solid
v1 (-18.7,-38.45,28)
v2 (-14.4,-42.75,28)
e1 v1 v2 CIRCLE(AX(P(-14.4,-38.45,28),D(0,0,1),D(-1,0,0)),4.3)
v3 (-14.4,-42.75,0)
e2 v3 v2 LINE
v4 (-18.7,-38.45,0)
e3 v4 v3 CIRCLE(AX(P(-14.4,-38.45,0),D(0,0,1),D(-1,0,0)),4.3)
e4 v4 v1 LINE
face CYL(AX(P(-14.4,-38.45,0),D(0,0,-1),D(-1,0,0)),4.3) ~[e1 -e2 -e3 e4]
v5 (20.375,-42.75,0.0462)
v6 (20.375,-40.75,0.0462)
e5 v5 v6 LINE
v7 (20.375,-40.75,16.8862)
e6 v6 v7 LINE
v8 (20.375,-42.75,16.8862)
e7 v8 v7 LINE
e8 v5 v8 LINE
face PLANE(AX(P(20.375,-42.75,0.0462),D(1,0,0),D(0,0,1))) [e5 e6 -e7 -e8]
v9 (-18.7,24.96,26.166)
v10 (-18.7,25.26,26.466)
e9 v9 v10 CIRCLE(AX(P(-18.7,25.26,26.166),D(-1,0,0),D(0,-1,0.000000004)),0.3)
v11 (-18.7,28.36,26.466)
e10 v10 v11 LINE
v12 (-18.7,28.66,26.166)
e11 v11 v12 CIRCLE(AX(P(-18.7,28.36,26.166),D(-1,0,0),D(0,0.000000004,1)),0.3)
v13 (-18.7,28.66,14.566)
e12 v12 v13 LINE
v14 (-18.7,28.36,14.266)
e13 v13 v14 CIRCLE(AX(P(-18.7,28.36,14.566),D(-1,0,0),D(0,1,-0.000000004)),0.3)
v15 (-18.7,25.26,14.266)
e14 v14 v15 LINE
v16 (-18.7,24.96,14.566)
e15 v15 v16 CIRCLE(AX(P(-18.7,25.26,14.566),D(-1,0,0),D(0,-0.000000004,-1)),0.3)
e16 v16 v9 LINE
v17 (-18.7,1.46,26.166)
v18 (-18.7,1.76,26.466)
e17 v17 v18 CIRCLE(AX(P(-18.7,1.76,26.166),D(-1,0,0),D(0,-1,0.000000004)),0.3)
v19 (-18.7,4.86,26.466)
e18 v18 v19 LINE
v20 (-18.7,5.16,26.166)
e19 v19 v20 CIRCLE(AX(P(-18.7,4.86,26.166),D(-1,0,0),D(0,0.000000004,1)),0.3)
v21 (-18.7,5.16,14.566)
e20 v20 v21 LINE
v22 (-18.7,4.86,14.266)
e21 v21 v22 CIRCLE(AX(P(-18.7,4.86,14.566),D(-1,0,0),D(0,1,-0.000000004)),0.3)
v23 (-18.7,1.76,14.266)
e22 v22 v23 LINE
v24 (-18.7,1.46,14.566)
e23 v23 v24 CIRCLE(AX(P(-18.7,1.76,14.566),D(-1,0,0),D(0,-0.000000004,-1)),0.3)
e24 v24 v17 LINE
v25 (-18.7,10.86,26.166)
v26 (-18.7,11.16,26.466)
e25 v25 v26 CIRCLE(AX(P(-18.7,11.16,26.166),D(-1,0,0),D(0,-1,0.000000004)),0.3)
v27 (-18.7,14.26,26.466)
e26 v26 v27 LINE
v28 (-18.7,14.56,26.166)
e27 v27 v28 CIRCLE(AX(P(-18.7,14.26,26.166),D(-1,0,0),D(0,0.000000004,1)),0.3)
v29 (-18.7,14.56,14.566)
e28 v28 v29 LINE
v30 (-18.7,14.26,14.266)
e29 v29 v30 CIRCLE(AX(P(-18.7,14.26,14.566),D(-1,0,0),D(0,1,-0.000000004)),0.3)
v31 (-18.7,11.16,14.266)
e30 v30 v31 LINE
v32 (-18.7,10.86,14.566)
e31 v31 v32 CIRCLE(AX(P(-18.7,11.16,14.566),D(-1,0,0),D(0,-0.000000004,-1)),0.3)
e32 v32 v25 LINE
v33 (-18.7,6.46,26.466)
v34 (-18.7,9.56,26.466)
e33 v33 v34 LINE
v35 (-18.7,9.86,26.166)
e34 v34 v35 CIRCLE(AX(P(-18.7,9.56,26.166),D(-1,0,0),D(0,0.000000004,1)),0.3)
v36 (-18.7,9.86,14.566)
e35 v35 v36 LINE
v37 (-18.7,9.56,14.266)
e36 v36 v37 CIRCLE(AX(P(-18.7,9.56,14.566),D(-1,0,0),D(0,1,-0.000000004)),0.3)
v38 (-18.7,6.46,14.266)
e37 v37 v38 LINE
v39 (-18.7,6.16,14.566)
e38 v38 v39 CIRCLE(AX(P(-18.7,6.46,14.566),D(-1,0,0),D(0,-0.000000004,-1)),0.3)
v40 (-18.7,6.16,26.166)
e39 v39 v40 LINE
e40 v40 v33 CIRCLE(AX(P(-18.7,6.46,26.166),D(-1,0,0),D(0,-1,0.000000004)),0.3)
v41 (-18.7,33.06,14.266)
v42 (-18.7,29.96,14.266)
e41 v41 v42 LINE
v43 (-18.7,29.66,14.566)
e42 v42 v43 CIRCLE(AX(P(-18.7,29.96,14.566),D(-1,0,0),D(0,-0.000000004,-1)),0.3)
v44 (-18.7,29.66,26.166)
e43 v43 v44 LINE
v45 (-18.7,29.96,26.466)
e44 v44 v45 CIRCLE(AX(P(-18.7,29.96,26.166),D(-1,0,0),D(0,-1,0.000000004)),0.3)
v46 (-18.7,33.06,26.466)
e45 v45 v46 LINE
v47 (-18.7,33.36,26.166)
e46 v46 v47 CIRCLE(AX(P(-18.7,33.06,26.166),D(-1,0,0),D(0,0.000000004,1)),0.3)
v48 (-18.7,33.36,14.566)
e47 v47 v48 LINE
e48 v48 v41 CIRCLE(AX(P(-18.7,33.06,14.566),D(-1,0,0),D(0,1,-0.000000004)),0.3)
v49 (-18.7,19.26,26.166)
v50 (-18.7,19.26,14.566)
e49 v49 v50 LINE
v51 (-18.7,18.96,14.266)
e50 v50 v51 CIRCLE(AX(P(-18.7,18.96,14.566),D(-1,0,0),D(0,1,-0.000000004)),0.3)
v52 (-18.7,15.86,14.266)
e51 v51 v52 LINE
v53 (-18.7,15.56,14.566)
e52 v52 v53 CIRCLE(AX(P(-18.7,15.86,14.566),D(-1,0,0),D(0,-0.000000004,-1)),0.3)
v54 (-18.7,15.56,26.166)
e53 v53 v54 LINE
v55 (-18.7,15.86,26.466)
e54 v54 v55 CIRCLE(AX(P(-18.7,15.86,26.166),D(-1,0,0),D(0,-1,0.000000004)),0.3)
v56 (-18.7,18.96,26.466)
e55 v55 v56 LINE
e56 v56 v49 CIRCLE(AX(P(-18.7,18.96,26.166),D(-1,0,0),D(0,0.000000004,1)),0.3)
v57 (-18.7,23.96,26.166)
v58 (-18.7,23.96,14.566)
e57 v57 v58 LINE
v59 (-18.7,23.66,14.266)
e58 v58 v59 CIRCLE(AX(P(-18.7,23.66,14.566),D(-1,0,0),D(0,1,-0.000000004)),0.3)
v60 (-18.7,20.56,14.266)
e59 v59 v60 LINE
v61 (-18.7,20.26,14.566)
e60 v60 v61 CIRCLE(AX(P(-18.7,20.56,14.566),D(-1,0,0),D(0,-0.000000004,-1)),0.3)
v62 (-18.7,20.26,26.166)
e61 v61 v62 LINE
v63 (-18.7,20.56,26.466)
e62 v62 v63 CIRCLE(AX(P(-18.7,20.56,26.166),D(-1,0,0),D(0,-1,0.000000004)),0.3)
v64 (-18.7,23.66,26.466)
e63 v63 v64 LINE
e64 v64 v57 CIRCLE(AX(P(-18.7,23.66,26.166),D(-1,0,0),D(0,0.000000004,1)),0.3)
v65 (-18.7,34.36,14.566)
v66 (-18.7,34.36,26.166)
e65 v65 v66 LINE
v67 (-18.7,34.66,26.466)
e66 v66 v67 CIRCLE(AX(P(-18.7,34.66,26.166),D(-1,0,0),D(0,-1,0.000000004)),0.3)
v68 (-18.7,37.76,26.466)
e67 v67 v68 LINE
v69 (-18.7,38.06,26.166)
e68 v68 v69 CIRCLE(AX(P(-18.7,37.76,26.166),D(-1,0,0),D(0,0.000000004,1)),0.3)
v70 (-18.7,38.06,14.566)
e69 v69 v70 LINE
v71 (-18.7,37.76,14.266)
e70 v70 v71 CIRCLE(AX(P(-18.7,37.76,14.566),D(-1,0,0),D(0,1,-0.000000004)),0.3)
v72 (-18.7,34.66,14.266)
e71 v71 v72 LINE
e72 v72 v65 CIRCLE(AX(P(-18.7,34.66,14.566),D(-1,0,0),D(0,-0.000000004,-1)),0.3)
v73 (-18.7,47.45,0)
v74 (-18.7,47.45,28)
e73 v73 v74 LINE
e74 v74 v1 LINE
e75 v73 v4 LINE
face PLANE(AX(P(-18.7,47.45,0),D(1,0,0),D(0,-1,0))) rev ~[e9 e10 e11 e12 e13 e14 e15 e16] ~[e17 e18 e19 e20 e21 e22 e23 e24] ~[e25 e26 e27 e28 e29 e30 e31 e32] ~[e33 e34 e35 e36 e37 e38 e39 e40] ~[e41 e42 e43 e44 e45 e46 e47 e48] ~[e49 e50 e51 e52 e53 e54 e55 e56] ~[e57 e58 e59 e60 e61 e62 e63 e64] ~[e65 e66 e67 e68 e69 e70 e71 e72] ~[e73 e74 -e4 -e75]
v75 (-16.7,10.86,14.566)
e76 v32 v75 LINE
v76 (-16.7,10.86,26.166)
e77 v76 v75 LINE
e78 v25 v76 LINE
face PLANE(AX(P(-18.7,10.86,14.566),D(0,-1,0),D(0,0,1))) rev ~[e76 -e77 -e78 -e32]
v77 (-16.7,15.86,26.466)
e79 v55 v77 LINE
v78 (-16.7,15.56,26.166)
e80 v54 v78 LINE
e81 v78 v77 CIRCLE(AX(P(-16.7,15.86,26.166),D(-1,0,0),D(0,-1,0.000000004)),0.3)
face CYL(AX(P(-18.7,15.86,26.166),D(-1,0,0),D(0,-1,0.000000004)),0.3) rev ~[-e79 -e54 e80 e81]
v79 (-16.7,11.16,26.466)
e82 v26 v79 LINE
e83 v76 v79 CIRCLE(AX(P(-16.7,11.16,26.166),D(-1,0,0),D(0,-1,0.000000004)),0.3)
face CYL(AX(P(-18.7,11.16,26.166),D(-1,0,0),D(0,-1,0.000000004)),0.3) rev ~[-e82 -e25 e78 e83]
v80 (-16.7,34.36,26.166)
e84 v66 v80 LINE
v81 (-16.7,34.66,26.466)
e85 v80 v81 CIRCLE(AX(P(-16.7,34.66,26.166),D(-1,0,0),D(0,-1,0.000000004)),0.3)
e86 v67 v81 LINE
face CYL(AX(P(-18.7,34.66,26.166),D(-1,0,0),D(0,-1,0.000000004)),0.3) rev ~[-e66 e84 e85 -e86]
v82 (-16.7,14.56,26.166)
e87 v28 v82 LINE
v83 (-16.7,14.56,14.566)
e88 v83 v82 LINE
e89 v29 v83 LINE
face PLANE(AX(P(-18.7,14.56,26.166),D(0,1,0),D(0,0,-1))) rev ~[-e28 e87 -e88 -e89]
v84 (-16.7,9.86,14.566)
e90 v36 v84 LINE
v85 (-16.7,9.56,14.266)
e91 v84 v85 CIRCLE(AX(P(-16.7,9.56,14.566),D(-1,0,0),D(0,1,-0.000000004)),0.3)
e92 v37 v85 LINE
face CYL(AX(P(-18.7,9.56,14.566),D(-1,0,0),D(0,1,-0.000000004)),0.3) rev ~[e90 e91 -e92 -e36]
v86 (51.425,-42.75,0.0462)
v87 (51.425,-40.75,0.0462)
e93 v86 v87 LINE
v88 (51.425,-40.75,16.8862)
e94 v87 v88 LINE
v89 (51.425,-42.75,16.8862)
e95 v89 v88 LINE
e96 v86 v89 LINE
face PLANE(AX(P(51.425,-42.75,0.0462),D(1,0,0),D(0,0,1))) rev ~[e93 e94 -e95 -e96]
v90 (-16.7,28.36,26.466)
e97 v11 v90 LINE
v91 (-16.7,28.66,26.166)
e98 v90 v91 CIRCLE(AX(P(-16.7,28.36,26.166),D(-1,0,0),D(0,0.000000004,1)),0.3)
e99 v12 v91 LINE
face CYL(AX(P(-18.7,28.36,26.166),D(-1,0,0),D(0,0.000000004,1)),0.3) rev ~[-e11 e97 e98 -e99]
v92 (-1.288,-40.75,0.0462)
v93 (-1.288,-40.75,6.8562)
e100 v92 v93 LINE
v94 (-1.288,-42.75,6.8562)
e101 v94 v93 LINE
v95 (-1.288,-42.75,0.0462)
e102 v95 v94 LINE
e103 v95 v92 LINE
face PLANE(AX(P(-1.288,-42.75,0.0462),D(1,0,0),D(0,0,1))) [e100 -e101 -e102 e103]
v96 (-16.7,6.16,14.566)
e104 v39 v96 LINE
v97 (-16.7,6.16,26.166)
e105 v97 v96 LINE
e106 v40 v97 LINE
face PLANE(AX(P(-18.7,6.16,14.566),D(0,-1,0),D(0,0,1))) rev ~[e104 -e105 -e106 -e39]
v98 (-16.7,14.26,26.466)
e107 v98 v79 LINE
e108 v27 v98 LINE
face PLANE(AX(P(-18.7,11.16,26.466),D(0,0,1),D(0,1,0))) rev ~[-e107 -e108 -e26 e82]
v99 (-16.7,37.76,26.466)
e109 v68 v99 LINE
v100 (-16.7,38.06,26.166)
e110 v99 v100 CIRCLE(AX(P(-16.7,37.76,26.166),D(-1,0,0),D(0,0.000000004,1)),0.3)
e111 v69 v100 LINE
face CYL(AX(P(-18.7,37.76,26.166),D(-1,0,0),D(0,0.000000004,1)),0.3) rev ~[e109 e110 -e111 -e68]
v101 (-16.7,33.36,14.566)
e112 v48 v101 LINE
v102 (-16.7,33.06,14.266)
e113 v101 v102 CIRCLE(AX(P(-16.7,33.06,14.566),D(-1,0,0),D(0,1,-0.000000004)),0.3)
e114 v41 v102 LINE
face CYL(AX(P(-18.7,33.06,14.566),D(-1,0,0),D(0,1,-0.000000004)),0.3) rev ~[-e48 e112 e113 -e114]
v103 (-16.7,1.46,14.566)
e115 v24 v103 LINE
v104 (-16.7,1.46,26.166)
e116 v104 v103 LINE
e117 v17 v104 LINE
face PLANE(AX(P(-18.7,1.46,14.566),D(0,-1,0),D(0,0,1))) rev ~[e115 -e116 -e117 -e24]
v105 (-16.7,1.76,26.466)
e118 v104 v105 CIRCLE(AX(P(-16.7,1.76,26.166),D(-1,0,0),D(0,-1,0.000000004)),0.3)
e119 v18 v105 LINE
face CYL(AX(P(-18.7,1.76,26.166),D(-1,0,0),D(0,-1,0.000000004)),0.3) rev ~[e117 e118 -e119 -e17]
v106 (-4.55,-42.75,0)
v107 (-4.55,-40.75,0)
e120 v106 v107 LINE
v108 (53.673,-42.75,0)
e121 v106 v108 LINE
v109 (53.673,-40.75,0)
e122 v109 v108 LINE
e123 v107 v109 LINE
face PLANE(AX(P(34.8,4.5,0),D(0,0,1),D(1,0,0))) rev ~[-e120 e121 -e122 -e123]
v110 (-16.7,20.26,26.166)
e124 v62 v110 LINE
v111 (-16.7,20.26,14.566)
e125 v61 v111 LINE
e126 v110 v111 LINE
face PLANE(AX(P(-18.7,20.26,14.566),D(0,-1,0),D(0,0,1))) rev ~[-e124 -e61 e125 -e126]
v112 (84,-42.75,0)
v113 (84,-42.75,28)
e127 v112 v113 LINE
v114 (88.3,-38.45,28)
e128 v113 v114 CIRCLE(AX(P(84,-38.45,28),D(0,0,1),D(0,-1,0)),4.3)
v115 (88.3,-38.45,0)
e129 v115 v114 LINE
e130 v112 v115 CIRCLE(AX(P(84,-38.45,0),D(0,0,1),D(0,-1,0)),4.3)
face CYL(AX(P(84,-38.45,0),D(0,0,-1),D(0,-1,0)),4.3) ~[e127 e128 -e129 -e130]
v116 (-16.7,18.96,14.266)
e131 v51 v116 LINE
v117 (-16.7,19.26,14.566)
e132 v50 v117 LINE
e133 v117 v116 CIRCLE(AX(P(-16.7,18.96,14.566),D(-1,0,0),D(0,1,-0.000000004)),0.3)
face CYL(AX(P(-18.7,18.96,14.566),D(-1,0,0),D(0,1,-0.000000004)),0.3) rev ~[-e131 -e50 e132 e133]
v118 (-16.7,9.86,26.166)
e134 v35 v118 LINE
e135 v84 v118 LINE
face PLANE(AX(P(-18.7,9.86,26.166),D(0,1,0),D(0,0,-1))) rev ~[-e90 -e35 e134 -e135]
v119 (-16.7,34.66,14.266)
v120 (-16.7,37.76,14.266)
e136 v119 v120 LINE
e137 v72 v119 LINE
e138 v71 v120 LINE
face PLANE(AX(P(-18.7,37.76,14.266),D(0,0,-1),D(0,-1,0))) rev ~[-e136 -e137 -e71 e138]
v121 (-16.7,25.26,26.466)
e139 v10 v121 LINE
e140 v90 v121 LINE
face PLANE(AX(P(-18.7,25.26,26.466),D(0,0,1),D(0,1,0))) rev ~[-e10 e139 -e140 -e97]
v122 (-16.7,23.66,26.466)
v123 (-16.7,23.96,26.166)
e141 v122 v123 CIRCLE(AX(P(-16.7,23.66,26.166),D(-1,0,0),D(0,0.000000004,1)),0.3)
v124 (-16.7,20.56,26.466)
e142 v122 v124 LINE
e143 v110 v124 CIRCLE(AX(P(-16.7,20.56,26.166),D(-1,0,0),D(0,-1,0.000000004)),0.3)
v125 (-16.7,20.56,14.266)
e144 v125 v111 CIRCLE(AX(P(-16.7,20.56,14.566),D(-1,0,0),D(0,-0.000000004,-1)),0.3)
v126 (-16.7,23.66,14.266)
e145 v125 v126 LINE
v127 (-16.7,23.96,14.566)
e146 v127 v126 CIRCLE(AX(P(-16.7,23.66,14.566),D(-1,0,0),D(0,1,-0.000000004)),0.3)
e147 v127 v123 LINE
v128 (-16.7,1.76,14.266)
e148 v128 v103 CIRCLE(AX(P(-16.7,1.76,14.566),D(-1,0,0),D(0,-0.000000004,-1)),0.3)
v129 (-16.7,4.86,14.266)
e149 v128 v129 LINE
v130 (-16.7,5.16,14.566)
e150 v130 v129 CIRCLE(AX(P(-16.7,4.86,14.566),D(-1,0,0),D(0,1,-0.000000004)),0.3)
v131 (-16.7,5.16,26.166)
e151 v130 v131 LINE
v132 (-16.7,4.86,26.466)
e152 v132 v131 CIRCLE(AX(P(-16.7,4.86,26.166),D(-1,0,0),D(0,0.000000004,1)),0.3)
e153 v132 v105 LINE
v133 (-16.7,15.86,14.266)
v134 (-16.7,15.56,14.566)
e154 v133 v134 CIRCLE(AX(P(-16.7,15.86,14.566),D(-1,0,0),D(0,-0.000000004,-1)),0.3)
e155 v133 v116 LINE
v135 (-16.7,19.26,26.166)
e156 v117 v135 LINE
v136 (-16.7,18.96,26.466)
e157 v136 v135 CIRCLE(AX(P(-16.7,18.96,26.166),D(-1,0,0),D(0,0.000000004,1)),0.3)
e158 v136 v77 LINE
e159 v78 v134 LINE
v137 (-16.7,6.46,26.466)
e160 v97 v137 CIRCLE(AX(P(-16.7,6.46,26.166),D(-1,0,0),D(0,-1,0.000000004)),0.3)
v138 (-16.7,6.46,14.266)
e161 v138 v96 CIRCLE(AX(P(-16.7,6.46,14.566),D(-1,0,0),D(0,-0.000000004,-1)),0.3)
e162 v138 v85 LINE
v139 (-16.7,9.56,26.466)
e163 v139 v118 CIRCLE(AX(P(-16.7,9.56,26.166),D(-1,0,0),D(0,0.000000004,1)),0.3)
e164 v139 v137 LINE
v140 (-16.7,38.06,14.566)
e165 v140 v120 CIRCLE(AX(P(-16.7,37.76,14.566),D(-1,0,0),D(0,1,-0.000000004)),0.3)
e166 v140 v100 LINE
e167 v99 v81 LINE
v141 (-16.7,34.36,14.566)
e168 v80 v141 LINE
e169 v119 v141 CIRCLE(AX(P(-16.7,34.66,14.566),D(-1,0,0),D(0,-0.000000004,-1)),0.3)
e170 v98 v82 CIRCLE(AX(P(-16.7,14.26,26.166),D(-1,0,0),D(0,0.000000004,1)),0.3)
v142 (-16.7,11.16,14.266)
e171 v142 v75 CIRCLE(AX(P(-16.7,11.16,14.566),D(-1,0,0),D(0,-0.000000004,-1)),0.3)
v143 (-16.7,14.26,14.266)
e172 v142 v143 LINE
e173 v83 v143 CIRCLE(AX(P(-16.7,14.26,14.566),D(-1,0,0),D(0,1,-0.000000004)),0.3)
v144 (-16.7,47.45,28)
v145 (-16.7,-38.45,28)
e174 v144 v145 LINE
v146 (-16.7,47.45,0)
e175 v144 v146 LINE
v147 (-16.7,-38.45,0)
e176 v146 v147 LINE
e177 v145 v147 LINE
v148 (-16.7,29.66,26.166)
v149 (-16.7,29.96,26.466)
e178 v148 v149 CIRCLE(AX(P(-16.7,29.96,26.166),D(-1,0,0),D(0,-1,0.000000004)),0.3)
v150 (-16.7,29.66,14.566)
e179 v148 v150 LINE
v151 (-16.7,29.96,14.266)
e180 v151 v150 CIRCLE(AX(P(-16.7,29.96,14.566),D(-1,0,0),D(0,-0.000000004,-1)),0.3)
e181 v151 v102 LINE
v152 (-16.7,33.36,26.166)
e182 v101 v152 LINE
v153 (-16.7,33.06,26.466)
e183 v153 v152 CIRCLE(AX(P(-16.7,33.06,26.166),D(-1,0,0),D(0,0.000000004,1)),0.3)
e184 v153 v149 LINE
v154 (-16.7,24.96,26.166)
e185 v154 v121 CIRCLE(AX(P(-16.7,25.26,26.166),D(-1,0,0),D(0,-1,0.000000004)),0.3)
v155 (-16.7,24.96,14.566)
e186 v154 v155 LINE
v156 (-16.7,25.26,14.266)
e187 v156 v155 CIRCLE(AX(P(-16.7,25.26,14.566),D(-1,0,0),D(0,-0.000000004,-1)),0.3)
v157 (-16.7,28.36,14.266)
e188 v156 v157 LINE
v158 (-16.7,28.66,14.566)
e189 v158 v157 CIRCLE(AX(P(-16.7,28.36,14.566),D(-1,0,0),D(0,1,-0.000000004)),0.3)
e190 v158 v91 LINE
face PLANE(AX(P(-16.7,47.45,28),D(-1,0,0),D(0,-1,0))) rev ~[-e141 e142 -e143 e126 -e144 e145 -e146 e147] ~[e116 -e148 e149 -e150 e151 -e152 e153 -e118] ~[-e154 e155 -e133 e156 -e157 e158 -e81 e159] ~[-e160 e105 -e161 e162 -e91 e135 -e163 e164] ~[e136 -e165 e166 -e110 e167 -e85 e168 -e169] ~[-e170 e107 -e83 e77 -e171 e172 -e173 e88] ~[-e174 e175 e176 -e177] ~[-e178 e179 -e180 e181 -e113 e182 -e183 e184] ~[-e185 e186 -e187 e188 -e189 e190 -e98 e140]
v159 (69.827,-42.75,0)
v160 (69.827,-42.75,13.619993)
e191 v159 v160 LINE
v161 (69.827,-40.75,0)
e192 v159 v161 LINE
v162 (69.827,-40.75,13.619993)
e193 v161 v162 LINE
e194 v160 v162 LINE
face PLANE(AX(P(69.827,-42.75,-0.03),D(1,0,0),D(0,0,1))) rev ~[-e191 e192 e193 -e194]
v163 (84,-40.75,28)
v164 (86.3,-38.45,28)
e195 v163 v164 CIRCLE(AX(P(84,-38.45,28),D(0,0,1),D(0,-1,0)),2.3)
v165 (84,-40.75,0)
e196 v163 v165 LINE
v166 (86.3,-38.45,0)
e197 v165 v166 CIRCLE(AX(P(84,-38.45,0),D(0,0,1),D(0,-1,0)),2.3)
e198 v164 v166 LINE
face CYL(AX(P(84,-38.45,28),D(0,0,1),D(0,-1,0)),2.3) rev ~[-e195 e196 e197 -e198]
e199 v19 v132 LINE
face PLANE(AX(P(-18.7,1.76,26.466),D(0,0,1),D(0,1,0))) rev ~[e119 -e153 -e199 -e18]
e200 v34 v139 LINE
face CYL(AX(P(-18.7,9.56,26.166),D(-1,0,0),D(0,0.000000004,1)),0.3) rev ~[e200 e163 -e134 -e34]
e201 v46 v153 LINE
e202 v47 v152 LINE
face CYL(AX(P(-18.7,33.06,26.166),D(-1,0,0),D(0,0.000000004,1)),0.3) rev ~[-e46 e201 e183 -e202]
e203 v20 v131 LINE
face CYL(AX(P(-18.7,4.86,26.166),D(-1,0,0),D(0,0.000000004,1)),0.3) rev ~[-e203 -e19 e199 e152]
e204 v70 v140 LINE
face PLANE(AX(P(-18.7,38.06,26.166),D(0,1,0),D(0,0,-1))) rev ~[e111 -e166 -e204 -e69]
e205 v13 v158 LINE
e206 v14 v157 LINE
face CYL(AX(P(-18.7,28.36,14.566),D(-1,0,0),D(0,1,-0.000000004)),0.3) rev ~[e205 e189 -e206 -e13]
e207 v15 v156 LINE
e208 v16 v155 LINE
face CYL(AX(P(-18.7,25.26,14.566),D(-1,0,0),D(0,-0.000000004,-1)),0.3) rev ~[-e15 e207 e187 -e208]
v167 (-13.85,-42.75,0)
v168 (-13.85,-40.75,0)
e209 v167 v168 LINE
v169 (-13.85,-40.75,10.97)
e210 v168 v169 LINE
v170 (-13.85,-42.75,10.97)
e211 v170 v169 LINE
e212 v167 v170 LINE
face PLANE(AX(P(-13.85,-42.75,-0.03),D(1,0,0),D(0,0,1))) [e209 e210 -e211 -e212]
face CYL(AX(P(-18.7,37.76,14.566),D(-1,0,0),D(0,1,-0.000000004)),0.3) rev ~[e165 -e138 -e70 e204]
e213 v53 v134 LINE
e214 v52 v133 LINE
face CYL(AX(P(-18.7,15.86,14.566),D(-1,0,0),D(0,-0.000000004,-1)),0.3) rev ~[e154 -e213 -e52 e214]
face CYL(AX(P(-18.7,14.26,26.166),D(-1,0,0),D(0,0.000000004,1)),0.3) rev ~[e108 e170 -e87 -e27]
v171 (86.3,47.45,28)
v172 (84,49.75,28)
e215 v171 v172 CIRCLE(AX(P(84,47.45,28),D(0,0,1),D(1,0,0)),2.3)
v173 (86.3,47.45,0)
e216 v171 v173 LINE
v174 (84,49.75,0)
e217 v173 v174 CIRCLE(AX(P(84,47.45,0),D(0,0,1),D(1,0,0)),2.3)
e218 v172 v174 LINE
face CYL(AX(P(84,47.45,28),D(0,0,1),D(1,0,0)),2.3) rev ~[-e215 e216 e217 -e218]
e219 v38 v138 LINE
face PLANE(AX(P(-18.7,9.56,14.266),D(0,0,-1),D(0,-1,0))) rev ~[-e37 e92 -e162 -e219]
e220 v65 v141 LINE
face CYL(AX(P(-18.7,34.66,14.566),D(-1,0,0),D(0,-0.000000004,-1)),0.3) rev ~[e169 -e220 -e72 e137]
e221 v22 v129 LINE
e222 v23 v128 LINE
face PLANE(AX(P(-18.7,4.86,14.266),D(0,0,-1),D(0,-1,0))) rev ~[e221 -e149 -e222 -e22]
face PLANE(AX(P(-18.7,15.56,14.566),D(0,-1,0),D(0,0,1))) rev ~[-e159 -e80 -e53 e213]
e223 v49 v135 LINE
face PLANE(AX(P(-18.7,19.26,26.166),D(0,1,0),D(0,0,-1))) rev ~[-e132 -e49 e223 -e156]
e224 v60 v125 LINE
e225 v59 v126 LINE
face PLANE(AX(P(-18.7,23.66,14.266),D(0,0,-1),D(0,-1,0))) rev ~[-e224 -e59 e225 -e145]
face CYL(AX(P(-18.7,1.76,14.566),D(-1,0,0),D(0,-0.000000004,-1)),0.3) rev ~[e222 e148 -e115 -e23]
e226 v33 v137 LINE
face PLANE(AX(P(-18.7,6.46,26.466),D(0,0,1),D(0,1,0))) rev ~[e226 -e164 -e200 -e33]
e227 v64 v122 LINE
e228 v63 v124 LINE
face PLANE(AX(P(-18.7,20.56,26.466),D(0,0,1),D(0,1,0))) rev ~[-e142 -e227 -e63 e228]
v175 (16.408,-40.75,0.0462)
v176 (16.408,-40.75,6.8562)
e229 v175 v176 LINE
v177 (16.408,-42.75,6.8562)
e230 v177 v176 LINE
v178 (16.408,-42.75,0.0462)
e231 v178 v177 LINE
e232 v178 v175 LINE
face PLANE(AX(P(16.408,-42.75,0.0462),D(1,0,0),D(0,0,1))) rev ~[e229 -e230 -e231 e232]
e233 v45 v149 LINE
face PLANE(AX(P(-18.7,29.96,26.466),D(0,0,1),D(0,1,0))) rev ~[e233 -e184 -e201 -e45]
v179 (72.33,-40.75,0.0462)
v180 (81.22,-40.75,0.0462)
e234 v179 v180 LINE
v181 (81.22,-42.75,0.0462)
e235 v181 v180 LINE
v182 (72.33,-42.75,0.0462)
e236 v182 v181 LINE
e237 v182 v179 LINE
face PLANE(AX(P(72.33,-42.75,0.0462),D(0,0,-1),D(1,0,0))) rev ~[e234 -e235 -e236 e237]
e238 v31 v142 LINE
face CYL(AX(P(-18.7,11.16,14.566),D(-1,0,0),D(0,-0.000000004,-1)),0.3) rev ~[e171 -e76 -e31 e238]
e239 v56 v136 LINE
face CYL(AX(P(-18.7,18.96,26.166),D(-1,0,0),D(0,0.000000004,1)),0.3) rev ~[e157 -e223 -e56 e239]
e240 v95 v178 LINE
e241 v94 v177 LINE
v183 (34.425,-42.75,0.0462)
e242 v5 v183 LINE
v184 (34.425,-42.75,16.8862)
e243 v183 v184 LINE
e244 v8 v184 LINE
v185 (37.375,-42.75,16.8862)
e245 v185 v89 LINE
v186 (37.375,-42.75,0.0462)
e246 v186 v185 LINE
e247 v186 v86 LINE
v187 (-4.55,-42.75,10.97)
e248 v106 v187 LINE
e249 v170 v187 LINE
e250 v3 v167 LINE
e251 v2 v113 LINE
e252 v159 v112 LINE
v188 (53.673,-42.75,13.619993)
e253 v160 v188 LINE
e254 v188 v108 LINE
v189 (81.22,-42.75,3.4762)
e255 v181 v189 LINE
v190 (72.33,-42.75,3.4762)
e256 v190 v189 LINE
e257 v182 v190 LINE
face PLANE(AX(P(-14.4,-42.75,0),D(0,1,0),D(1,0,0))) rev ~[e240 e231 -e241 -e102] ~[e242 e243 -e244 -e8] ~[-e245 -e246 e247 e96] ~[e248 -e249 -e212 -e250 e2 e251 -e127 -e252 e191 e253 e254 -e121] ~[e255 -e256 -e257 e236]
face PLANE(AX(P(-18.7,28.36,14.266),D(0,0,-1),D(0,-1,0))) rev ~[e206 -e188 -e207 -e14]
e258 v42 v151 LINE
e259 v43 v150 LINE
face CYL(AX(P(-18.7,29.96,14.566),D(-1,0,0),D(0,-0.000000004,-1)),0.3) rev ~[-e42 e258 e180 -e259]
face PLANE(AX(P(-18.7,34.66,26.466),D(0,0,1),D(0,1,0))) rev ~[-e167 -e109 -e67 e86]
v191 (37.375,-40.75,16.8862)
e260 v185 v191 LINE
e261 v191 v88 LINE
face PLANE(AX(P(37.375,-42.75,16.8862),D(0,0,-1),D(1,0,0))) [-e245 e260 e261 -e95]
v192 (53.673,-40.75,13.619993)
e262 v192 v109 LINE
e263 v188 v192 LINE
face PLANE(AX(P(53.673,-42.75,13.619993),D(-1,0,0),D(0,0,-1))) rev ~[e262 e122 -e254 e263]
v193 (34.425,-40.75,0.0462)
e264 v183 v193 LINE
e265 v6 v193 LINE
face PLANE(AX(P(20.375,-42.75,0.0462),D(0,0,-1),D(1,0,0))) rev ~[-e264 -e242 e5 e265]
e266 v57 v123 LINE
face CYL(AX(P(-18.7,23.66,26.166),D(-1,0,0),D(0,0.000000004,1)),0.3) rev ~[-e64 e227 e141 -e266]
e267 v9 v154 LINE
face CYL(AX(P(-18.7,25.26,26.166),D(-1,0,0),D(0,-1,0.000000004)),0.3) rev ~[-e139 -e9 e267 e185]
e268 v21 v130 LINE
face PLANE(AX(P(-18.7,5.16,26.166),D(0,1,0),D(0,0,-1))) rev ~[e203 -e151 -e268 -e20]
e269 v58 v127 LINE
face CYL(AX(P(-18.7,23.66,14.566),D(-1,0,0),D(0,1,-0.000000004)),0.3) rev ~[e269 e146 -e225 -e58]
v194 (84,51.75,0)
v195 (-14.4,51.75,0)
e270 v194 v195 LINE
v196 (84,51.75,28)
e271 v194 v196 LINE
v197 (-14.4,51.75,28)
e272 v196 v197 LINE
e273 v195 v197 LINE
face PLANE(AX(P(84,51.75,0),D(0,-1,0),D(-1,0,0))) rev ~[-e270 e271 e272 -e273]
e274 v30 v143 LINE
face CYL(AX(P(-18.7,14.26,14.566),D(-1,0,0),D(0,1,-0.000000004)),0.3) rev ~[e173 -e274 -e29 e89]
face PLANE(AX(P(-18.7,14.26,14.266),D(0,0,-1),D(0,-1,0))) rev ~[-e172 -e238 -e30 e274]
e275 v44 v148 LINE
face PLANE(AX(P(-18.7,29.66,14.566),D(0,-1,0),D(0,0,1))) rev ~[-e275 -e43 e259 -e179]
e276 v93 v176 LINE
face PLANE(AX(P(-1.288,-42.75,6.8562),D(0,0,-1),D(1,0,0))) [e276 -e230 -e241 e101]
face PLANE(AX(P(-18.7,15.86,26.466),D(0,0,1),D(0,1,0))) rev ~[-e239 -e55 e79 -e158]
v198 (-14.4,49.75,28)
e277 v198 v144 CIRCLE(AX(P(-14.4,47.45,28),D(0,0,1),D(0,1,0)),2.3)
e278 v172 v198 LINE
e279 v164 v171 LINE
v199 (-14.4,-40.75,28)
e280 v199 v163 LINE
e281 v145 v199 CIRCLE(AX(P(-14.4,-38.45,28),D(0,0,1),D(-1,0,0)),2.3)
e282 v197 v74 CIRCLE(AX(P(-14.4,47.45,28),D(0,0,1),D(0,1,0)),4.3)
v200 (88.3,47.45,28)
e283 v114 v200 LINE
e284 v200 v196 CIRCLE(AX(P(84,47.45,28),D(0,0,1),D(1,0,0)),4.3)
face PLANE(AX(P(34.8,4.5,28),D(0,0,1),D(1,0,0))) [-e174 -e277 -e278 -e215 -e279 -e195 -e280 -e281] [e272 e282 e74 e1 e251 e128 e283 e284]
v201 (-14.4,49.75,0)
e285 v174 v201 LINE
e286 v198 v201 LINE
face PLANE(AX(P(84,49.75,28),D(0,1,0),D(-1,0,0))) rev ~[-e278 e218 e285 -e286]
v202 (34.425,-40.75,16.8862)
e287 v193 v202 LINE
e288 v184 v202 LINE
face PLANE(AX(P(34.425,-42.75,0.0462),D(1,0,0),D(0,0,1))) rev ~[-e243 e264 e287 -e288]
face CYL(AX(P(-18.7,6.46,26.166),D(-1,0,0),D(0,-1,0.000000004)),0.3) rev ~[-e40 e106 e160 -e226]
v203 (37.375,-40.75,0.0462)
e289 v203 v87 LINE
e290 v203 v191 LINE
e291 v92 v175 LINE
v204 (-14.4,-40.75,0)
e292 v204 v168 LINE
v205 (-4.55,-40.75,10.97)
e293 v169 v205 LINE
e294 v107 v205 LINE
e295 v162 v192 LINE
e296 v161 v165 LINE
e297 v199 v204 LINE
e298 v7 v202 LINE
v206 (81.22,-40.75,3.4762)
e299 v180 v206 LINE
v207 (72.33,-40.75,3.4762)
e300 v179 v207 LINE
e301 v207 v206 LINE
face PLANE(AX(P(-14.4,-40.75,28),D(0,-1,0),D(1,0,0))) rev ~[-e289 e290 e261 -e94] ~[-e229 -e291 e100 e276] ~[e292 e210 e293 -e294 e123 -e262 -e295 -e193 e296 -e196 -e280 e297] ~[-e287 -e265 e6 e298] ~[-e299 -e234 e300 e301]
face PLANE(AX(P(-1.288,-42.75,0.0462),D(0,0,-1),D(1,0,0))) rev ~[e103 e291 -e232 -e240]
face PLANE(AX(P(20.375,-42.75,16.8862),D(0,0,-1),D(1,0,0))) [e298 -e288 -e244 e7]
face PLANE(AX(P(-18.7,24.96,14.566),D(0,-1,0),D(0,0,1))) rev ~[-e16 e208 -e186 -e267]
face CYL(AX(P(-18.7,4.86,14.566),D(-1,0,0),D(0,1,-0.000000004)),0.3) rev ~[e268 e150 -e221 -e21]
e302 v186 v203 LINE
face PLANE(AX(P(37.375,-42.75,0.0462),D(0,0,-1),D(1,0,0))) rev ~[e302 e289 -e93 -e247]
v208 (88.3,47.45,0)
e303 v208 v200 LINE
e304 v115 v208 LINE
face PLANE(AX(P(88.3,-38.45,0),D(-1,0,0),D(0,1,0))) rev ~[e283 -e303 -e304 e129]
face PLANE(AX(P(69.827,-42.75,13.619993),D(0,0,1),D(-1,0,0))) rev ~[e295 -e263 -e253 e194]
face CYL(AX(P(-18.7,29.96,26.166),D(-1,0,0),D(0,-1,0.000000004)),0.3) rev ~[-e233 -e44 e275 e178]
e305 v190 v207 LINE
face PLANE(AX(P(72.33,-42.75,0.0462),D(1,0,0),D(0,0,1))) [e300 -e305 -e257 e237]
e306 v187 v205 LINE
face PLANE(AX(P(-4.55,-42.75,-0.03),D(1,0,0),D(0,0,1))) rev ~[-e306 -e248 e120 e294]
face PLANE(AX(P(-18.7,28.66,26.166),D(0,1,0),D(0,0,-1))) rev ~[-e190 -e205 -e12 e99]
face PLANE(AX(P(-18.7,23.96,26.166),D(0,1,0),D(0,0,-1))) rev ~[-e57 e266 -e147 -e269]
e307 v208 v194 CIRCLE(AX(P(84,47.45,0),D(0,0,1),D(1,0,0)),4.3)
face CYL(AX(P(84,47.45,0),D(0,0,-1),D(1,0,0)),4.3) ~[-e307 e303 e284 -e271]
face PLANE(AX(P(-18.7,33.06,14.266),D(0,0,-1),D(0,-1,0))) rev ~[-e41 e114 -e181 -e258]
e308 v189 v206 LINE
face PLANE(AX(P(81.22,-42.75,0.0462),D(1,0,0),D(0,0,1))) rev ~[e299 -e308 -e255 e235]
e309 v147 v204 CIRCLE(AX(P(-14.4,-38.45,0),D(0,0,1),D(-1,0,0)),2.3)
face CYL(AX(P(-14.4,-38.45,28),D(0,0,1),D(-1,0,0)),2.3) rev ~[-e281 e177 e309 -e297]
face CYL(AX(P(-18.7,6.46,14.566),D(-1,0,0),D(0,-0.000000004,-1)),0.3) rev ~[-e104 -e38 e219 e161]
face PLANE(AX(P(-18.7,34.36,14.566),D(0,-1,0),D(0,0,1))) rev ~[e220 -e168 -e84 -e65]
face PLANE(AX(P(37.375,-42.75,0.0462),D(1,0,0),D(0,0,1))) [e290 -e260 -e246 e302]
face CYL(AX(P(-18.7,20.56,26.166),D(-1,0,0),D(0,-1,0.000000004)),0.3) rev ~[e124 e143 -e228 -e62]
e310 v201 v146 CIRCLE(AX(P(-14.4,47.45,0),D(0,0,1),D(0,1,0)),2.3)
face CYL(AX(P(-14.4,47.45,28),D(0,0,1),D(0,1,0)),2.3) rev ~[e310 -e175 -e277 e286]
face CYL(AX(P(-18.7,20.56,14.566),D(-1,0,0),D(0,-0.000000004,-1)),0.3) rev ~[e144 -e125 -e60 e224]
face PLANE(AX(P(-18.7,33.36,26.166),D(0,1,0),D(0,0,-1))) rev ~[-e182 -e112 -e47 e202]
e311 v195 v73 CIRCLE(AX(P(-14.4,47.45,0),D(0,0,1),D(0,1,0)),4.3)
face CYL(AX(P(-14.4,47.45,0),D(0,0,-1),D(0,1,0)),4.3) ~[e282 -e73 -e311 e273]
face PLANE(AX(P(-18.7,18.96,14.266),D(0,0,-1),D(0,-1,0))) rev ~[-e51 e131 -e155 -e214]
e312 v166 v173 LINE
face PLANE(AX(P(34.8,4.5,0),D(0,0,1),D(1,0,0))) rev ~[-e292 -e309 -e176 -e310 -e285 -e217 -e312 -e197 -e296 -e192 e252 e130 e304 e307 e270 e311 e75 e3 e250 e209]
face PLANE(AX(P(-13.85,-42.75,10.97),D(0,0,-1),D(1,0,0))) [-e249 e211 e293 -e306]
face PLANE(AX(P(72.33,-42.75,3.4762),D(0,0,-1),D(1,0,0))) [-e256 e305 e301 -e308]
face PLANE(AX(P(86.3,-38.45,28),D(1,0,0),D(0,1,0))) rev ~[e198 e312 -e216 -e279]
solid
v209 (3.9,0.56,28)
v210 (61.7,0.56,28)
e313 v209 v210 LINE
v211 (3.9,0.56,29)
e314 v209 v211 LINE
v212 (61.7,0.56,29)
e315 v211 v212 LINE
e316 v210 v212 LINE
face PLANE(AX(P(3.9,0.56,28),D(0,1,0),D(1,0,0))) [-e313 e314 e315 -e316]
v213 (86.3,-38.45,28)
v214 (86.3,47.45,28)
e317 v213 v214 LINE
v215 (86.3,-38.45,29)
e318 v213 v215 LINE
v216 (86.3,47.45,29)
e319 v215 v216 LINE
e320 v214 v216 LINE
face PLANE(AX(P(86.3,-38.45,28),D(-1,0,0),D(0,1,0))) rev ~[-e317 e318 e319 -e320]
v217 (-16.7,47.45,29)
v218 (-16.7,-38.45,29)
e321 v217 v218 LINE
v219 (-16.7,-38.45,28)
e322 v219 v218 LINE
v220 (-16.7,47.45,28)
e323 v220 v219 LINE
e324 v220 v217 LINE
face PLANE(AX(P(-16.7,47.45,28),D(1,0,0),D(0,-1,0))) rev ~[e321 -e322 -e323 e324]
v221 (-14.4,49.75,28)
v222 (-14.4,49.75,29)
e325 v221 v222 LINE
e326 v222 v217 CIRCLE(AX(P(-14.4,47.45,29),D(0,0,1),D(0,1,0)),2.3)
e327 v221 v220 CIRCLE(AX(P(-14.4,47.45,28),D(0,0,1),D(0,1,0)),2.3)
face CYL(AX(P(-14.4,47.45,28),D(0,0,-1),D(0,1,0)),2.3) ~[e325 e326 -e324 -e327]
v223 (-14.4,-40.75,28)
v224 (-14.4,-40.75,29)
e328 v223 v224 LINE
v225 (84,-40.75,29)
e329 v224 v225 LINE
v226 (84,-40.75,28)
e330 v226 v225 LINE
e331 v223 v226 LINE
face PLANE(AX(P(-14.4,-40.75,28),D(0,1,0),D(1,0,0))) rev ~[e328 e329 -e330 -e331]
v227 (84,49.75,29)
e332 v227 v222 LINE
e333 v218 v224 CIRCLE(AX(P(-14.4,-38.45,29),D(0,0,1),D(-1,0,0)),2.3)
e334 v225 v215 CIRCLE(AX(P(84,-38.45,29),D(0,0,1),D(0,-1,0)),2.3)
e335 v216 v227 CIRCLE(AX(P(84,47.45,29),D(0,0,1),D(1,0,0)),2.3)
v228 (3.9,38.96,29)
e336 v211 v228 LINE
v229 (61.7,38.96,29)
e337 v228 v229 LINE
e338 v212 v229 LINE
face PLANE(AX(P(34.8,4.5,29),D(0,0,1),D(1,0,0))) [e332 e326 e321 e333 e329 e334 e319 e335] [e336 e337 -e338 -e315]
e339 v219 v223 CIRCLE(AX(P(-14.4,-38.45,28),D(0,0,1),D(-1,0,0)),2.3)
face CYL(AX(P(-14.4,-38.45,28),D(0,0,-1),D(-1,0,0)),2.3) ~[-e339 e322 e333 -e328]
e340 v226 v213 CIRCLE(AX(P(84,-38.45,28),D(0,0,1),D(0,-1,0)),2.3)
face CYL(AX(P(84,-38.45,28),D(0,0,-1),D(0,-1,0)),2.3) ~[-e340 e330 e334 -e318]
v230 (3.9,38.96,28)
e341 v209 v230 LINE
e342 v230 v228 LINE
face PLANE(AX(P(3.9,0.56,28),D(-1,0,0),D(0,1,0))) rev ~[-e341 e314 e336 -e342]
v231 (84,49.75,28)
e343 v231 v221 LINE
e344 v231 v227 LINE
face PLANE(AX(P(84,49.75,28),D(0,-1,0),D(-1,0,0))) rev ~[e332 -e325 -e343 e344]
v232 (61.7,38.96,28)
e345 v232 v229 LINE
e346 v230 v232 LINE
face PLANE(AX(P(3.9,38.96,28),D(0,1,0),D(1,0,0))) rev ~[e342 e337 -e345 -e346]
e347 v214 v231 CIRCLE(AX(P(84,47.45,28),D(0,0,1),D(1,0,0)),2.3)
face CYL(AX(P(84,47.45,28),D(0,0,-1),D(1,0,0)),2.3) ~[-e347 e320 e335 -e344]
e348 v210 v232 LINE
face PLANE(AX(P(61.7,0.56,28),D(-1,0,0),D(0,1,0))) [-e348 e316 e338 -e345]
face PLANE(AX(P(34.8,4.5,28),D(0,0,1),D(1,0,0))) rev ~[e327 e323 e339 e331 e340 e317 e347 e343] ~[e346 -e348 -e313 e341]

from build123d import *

# Parameters (mm, degrees)
BOSS_EXTRUDE1_DEPTH = 28
SKETCH3_W           = 57.8
SKETCH3_H           = 38.4
BOSS_EXTRUDE2_DEPTH = 28
SKETCH4_W           = 9.3
SKETCH4_H           = 11
SKETCH4_W_2         = 17.696
SKETCH4_H_2         = 6.81
SKETCH4_W_3         = 8.89
SKETCH4_H_3         = 3.43
SKETCH4_W_4         = 14.05
SKETCH4_H_4         = 16.84
CUT_EXTRUDE1_DEPTH  = 2
CUT_EXTRUDE2_DEPTH  = 23
SKETCH6_W           = 57.8
SKETCH6_H           = 38.4
CUT_EXTRUDE5_DEPTH  = 28
SKETCH7_W           = 57.8
SKETCH7_H           = 38.4
BOSS_EXTRUDE3_DEPTH = 28
CUT_EXTRUDE7_DEPTH  = 27


with BuildPart() as part:
    # Sketch2 → Boss-Extrude1 (new body)
    with BuildSketch(Plane.XY):
        with BuildLine():
            Line((-18.7, 47.45), (-18.7, -38.45))
            ThreePointArc((-18.7, -38.45), (-17.440559159, -41.490559159), (-14.4, -42.75))
            Line((-14.4, -42.75), (84, -42.75))
            ThreePointArc((84, -42.75), (87.040559159, -41.490559159), (88.3, -38.45))
            Line((88.3, -38.45), (88.3, 47.45))
            ThreePointArc((88.3, 47.45), (87.040559159, 50.490559159), (84, 51.75))
            Line((84, 51.75), (-14.4, 51.75))
            ThreePointArc((-14.4, 51.75), (-17.440559159, 50.490559159), (-18.7, 47.45))
        make_face()
        with BuildLine():
            Line((84, 49.75), (-14.4, 49.75))
            ThreePointArc((-14.4, 49.75), (-16.026345597, 49.076345597), (-16.7, 47.45))
            Line((-16.7, 47.45), (-16.7, -38.45))
            ThreePointArc((-16.7, -38.45), (-16.026345597, -40.076345597), (-14.4, -40.75))
            Line((-14.4, -40.75), (84, -40.75))
            ThreePointArc((84, -40.75), (85.626345597, -40.076345597), (86.3, -38.45))
            Line((86.3, -38.45), (86.3, 47.45))
            ThreePointArc((86.3, 47.45), (85.626345597, 49.076345597), (84, 49.75))
        make_face(mode=Mode.SUBTRACT)
    extrude(amount=BOSS_EXTRUDE1_DEPTH)

    # Sketch3 → Boss-Extrude2 (add)
    with BuildSketch(Plane.XY):
        with BuildLine():
            Line((-18.7, 47.45), (-18.7, -38.45))
            ThreePointArc((-18.7, -38.45), (-17.440559159, -41.490559159), (-14.4, -42.75))
            Line((-14.4, -42.75), (84, -42.75))
            ThreePointArc((84, -42.75), (87.040559159, -41.490559159), (88.3, -38.45))
            Line((88.3, -38.45), (88.3, 47.45))
            ThreePointArc((88.3, 47.45), (87.040559159, 50.490559159), (84, 51.75))
            Line((84, 51.75), (-14.4, 51.75))
            ThreePointArc((-14.4, 51.75), (-17.440559159, 50.490559159), (-18.7, 47.45))
        make_face()
        with Locations((32.8, 19.76)):
            Rectangle(SKETCH3_W, SKETCH3_H, mode=Mode.SUBTRACT)
    extrude(amount=BOSS_EXTRUDE2_DEPTH)

    # Sketch4 → Cut-Extrude1 (cut)
    with BuildSketch(Plane.XZ.offset(42.75)):
        with Locations((-9.2, 5.47)):
            Rectangle(SKETCH4_W, SKETCH4_H)
        with Locations((7.56, 3.4512)):
            Rectangle(SKETCH4_W_2, SKETCH4_H_2)
        with Locations((76.775, 1.7612)):
            Rectangle(SKETCH4_W_3, SKETCH4_H_3)
        Polygon((66.12, -0.03), (68.12, -0.03), (69.827, -0.03), (69.827, 13.619992795), (68.12, 13.619992795), (66.12, 13.619992795), (57.38, 13.619992795), (55.38, 13.619992795), (53.673, 13.619992795), (53.673, -0.03), (55.38, -0.03), (57.38, -0.03), align=None)
        with Locations((44.4, 8.4662)):
            Rectangle(SKETCH4_W_4, SKETCH4_H_4)
        with Locations((27.4, 8.4662)):
            Rectangle(SKETCH4_W_4, SKETCH4_H_4)
    extrude(amount=-CUT_EXTRUDE1_DEPTH, mode=Mode.SUBTRACT)

    # Sketch5 → Cut-Extrude2 (cut)
    with BuildSketch(Plane.ZY.offset(18.7)):
        with BuildLine():
            Line((26.466, 1.76), (26.466, 4.86))
            ThreePointArc((26.466, 4.86), (26.378132034, 5.072132034), (26.166, 5.16))
            Line((26.166, 5.16), (14.566, 5.16))
            ThreePointArc((14.566, 5.16), (14.353867966, 5.072132034), (14.266, 4.86))
            Line((14.266, 4.86), (14.266, 1.76))
            ThreePointArc((14.266, 1.76), (14.353867966, 1.547867966), (14.566, 1.46))
            Line((14.566, 1.46), (26.166, 1.46))
            ThreePointArc((26.166, 1.46), (26.378132034, 1.547867966), (26.466, 1.76))
        make_face()
        with BuildLine():
            Line((26.166, 9.86), (14.566, 9.86))
            ThreePointArc((14.566, 9.86), (14.353867966, 9.772132034), (14.266, 9.56))
            Line((14.266, 9.56), (14.266, 6.46))
            ThreePointArc((14.266, 6.46), (14.353867966, 6.247867966), (14.566, 6.16))
            Line((14.566, 6.16), (26.166, 6.16))
            ThreePointArc((26.166, 6.16), (26.378132034, 6.247867966), (26.466, 6.46))
            Line((26.466, 6.46), (26.466, 9.56))
            ThreePointArc((26.466, 9.56), (26.378132034, 9.772132034), (26.166, 9.86))
        make_face()
        with BuildLine():
            Line((26.166, 14.56), (14.566, 14.56))
            ThreePointArc((14.566, 14.56), (14.353867966, 14.472132034), (14.266, 14.26))
            Line((14.266, 14.26), (14.266, 11.16))
            ThreePointArc((14.266, 11.16), (14.353867966, 10.947867966), (14.566, 10.86))
            Line((14.566, 10.86), (26.166, 10.86))
            ThreePointArc((26.166, 10.86), (26.378132034, 10.947867966), (26.466, 11.16))
            Line((26.466, 11.16), (26.466, 14.26))
            ThreePointArc((26.466, 14.26), (26.378132034, 14.472132034), (26.166, 14.56))
        make_face()
        with BuildLine():
            Line((26.166, 19.26), (14.566, 19.26))
            ThreePointArc((14.566, 19.26), (14.353867966, 19.172132034), (14.266, 18.96))
            Line((14.266, 18.96), (14.266, 15.86))
            ThreePointArc((14.266, 15.86), (14.353867966, 15.647867966), (14.566, 15.56))
            Line((14.566, 15.56), (26.166, 15.56))
            ThreePointArc((26.166, 15.56), (26.378132034, 15.647867966), (26.466, 15.86))
            Line((26.466, 15.86), (26.466, 18.96))
            ThreePointArc((26.466, 18.96), (26.378132034, 19.172132034), (26.166, 19.26))
        make_face()
        with BuildLine():
            Line((26.166, 23.96), (14.566, 23.96))
            ThreePointArc((14.566, 23.96), (14.353867966, 23.872132034), (14.266, 23.66))
            Line((14.266, 23.66), (14.266, 20.56))
            ThreePointArc((14.266, 20.56), (14.353867966, 20.347867966), (14.566, 20.26))
            Line((14.566, 20.26), (26.166, 20.26))
            ThreePointArc((26.166, 20.26), (26.378132034, 20.347867966), (26.466, 20.56))
            Line((26.466, 20.56), (26.466, 23.66))
            ThreePointArc((26.466, 23.66), (26.378132034, 23.872132034), (26.166, 23.96))
        make_face()
        with BuildLine():
            Line((26.166, 28.66), (14.566, 28.66))
            ThreePointArc((14.566, 28.66), (14.353867966, 28.572132034), (14.266, 28.36))
            Line((14.266, 28.36), (14.266, 25.26))
            ThreePointArc((14.266, 25.26), (14.353867966, 25.047867966), (14.566, 24.96))
            Line((14.566, 24.96), (26.166, 24.96))
            ThreePointArc((26.166, 24.96), (26.378132034, 25.047867966), (26.466, 25.26))
            Line((26.466, 25.26), (26.466, 28.36))
            ThreePointArc((26.466, 28.36), (26.378132034, 28.572132034), (26.166, 28.66))
        make_face()
        with BuildLine():
            Line((26.166, 33.36), (14.566, 33.36))
            ThreePointArc((14.566, 33.36), (14.353867966, 33.272132034), (14.266, 33.06))
            Line((14.266, 33.06), (14.266, 29.96))
            ThreePointArc((14.266, 29.96), (14.353867966, 29.747867966), (14.566, 29.66))
            Line((14.566, 29.66), (26.166, 29.66))
            ThreePointArc((26.166, 29.66), (26.378132034, 29.747867966), (26.466, 29.96))
            Line((26.466, 29.96), (26.466, 33.06))
            ThreePointArc((26.466, 33.06), (26.378132034, 33.272132034), (26.166, 33.36))
        make_face()
        with BuildLine():
            Line((26.166, 38.06), (14.566, 38.06))
            ThreePointArc((14.566, 38.06), (14.353867966, 37.972132034), (14.266, 37.76))
            Line((14.266, 37.76), (14.266, 34.66))
            ThreePointArc((14.266, 34.66), (14.353867966, 34.447867966), (14.566, 34.36))
            Line((14.566, 34.36), (26.166, 34.36))
            ThreePointArc((26.166, 34.36), (26.378132034, 34.447867966), (26.466, 34.66))
            Line((26.466, 34.66), (26.466, 37.76))
            ThreePointArc((26.466, 37.76), (26.378132034, 37.972132034), (26.166, 38.06))
        make_face()
    extrude(amount=-CUT_EXTRUDE2_DEPTH, mode=Mode.SUBTRACT)

    # Sketch6 → Cut-Extrude5 (cut)
    with BuildSketch(Plane.XY.offset(28)):
        with BuildLine():
            Line((84, 49.75), (-14.4, 49.75))
            ThreePointArc((-14.4, 49.75), (-16.026345597, 49.076345597), (-16.7, 47.45))
            Line((-16.7, 47.45), (-16.7, -38.45))
            ThreePointArc((-16.7, -38.45), (-16.026345597, -40.076345597), (-14.4, -40.75))
            Line((-14.4, -40.75), (84, -40.75))
            ThreePointArc((84, -40.75), (85.626345597, -40.076345597), (86.3, -38.45))
            Line((86.3, -38.45), (86.3, 47.45))
            ThreePointArc((86.3, 47.45), (85.626345597, 49.076345597), (84, 49.75))
        make_face()
        with Locations((32.8, 19.76)):
            Rectangle(SKETCH6_W, SKETCH6_H, mode=Mode.SUBTRACT)
    extrude(amount=-CUT_EXTRUDE5_DEPTH, mode=Mode.SUBTRACT)


with BuildPart() as body_2:
    # Sketch7 → Boss-Extrude3 (new body)
    with BuildSketch(Plane.XY.offset(28)):
        with BuildLine():
            Line((86.3, -38.45), (86.3, 47.45))
            ThreePointArc((86.3, 47.45), (85.626345597, 49.076345597), (84, 49.75))
            Line((84, 49.75), (-14.4, 49.75))
            ThreePointArc((-14.4, 49.75), (-16.026345597, 49.076345597), (-16.7, 47.45))
            Line((-16.7, 47.45), (-16.7, -38.45))
            ThreePointArc((-16.7, -38.45), (-16.026345597, -40.076345597), (-14.4, -40.75))
            Line((-14.4, -40.75), (84, -40.75))
            ThreePointArc((84, -40.75), (85.626345597, -40.076345597), (86.3, -38.45))
        make_face()
        with Locations((32.8, 19.76)):
            Rectangle(SKETCH7_W, SKETCH7_H, mode=Mode.SUBTRACT)
    extrude(amount=BOSS_EXTRUDE3_DEPTH)

    # Sketch8 → Cut-Extrude7 (cut)
    with BuildSketch(Plane.XY.offset(56)):
        with BuildLine():
            Line((84, 49.75), (-14.4, 49.75))
            ThreePointArc((-14.4, 49.75), (-16.026345597, 49.076345597), (-16.7, 47.45))
            Line((-16.7, 47.45), (-16.7, -38.45))
            ThreePointArc((-16.7, -38.45), (-16.026345597, -40.076345597), (-14.4, -40.75))
            Line((-14.4, -40.75), (84, -40.75))
            ThreePointArc((84, -40.75), (85.626345597, -40.076345597), (86.3, -38.45))
            Line((86.3, -38.45), (86.3, 47.45))
            ThreePointArc((86.3, 47.45), (85.626345597, 49.076345597), (84, 49.75))
        make_face()
    extrude(amount=-CUT_EXTRUDE7_DEPTH, mode=Mode.SUBTRACT)


solid = Compound([part.part, body_2.part])
